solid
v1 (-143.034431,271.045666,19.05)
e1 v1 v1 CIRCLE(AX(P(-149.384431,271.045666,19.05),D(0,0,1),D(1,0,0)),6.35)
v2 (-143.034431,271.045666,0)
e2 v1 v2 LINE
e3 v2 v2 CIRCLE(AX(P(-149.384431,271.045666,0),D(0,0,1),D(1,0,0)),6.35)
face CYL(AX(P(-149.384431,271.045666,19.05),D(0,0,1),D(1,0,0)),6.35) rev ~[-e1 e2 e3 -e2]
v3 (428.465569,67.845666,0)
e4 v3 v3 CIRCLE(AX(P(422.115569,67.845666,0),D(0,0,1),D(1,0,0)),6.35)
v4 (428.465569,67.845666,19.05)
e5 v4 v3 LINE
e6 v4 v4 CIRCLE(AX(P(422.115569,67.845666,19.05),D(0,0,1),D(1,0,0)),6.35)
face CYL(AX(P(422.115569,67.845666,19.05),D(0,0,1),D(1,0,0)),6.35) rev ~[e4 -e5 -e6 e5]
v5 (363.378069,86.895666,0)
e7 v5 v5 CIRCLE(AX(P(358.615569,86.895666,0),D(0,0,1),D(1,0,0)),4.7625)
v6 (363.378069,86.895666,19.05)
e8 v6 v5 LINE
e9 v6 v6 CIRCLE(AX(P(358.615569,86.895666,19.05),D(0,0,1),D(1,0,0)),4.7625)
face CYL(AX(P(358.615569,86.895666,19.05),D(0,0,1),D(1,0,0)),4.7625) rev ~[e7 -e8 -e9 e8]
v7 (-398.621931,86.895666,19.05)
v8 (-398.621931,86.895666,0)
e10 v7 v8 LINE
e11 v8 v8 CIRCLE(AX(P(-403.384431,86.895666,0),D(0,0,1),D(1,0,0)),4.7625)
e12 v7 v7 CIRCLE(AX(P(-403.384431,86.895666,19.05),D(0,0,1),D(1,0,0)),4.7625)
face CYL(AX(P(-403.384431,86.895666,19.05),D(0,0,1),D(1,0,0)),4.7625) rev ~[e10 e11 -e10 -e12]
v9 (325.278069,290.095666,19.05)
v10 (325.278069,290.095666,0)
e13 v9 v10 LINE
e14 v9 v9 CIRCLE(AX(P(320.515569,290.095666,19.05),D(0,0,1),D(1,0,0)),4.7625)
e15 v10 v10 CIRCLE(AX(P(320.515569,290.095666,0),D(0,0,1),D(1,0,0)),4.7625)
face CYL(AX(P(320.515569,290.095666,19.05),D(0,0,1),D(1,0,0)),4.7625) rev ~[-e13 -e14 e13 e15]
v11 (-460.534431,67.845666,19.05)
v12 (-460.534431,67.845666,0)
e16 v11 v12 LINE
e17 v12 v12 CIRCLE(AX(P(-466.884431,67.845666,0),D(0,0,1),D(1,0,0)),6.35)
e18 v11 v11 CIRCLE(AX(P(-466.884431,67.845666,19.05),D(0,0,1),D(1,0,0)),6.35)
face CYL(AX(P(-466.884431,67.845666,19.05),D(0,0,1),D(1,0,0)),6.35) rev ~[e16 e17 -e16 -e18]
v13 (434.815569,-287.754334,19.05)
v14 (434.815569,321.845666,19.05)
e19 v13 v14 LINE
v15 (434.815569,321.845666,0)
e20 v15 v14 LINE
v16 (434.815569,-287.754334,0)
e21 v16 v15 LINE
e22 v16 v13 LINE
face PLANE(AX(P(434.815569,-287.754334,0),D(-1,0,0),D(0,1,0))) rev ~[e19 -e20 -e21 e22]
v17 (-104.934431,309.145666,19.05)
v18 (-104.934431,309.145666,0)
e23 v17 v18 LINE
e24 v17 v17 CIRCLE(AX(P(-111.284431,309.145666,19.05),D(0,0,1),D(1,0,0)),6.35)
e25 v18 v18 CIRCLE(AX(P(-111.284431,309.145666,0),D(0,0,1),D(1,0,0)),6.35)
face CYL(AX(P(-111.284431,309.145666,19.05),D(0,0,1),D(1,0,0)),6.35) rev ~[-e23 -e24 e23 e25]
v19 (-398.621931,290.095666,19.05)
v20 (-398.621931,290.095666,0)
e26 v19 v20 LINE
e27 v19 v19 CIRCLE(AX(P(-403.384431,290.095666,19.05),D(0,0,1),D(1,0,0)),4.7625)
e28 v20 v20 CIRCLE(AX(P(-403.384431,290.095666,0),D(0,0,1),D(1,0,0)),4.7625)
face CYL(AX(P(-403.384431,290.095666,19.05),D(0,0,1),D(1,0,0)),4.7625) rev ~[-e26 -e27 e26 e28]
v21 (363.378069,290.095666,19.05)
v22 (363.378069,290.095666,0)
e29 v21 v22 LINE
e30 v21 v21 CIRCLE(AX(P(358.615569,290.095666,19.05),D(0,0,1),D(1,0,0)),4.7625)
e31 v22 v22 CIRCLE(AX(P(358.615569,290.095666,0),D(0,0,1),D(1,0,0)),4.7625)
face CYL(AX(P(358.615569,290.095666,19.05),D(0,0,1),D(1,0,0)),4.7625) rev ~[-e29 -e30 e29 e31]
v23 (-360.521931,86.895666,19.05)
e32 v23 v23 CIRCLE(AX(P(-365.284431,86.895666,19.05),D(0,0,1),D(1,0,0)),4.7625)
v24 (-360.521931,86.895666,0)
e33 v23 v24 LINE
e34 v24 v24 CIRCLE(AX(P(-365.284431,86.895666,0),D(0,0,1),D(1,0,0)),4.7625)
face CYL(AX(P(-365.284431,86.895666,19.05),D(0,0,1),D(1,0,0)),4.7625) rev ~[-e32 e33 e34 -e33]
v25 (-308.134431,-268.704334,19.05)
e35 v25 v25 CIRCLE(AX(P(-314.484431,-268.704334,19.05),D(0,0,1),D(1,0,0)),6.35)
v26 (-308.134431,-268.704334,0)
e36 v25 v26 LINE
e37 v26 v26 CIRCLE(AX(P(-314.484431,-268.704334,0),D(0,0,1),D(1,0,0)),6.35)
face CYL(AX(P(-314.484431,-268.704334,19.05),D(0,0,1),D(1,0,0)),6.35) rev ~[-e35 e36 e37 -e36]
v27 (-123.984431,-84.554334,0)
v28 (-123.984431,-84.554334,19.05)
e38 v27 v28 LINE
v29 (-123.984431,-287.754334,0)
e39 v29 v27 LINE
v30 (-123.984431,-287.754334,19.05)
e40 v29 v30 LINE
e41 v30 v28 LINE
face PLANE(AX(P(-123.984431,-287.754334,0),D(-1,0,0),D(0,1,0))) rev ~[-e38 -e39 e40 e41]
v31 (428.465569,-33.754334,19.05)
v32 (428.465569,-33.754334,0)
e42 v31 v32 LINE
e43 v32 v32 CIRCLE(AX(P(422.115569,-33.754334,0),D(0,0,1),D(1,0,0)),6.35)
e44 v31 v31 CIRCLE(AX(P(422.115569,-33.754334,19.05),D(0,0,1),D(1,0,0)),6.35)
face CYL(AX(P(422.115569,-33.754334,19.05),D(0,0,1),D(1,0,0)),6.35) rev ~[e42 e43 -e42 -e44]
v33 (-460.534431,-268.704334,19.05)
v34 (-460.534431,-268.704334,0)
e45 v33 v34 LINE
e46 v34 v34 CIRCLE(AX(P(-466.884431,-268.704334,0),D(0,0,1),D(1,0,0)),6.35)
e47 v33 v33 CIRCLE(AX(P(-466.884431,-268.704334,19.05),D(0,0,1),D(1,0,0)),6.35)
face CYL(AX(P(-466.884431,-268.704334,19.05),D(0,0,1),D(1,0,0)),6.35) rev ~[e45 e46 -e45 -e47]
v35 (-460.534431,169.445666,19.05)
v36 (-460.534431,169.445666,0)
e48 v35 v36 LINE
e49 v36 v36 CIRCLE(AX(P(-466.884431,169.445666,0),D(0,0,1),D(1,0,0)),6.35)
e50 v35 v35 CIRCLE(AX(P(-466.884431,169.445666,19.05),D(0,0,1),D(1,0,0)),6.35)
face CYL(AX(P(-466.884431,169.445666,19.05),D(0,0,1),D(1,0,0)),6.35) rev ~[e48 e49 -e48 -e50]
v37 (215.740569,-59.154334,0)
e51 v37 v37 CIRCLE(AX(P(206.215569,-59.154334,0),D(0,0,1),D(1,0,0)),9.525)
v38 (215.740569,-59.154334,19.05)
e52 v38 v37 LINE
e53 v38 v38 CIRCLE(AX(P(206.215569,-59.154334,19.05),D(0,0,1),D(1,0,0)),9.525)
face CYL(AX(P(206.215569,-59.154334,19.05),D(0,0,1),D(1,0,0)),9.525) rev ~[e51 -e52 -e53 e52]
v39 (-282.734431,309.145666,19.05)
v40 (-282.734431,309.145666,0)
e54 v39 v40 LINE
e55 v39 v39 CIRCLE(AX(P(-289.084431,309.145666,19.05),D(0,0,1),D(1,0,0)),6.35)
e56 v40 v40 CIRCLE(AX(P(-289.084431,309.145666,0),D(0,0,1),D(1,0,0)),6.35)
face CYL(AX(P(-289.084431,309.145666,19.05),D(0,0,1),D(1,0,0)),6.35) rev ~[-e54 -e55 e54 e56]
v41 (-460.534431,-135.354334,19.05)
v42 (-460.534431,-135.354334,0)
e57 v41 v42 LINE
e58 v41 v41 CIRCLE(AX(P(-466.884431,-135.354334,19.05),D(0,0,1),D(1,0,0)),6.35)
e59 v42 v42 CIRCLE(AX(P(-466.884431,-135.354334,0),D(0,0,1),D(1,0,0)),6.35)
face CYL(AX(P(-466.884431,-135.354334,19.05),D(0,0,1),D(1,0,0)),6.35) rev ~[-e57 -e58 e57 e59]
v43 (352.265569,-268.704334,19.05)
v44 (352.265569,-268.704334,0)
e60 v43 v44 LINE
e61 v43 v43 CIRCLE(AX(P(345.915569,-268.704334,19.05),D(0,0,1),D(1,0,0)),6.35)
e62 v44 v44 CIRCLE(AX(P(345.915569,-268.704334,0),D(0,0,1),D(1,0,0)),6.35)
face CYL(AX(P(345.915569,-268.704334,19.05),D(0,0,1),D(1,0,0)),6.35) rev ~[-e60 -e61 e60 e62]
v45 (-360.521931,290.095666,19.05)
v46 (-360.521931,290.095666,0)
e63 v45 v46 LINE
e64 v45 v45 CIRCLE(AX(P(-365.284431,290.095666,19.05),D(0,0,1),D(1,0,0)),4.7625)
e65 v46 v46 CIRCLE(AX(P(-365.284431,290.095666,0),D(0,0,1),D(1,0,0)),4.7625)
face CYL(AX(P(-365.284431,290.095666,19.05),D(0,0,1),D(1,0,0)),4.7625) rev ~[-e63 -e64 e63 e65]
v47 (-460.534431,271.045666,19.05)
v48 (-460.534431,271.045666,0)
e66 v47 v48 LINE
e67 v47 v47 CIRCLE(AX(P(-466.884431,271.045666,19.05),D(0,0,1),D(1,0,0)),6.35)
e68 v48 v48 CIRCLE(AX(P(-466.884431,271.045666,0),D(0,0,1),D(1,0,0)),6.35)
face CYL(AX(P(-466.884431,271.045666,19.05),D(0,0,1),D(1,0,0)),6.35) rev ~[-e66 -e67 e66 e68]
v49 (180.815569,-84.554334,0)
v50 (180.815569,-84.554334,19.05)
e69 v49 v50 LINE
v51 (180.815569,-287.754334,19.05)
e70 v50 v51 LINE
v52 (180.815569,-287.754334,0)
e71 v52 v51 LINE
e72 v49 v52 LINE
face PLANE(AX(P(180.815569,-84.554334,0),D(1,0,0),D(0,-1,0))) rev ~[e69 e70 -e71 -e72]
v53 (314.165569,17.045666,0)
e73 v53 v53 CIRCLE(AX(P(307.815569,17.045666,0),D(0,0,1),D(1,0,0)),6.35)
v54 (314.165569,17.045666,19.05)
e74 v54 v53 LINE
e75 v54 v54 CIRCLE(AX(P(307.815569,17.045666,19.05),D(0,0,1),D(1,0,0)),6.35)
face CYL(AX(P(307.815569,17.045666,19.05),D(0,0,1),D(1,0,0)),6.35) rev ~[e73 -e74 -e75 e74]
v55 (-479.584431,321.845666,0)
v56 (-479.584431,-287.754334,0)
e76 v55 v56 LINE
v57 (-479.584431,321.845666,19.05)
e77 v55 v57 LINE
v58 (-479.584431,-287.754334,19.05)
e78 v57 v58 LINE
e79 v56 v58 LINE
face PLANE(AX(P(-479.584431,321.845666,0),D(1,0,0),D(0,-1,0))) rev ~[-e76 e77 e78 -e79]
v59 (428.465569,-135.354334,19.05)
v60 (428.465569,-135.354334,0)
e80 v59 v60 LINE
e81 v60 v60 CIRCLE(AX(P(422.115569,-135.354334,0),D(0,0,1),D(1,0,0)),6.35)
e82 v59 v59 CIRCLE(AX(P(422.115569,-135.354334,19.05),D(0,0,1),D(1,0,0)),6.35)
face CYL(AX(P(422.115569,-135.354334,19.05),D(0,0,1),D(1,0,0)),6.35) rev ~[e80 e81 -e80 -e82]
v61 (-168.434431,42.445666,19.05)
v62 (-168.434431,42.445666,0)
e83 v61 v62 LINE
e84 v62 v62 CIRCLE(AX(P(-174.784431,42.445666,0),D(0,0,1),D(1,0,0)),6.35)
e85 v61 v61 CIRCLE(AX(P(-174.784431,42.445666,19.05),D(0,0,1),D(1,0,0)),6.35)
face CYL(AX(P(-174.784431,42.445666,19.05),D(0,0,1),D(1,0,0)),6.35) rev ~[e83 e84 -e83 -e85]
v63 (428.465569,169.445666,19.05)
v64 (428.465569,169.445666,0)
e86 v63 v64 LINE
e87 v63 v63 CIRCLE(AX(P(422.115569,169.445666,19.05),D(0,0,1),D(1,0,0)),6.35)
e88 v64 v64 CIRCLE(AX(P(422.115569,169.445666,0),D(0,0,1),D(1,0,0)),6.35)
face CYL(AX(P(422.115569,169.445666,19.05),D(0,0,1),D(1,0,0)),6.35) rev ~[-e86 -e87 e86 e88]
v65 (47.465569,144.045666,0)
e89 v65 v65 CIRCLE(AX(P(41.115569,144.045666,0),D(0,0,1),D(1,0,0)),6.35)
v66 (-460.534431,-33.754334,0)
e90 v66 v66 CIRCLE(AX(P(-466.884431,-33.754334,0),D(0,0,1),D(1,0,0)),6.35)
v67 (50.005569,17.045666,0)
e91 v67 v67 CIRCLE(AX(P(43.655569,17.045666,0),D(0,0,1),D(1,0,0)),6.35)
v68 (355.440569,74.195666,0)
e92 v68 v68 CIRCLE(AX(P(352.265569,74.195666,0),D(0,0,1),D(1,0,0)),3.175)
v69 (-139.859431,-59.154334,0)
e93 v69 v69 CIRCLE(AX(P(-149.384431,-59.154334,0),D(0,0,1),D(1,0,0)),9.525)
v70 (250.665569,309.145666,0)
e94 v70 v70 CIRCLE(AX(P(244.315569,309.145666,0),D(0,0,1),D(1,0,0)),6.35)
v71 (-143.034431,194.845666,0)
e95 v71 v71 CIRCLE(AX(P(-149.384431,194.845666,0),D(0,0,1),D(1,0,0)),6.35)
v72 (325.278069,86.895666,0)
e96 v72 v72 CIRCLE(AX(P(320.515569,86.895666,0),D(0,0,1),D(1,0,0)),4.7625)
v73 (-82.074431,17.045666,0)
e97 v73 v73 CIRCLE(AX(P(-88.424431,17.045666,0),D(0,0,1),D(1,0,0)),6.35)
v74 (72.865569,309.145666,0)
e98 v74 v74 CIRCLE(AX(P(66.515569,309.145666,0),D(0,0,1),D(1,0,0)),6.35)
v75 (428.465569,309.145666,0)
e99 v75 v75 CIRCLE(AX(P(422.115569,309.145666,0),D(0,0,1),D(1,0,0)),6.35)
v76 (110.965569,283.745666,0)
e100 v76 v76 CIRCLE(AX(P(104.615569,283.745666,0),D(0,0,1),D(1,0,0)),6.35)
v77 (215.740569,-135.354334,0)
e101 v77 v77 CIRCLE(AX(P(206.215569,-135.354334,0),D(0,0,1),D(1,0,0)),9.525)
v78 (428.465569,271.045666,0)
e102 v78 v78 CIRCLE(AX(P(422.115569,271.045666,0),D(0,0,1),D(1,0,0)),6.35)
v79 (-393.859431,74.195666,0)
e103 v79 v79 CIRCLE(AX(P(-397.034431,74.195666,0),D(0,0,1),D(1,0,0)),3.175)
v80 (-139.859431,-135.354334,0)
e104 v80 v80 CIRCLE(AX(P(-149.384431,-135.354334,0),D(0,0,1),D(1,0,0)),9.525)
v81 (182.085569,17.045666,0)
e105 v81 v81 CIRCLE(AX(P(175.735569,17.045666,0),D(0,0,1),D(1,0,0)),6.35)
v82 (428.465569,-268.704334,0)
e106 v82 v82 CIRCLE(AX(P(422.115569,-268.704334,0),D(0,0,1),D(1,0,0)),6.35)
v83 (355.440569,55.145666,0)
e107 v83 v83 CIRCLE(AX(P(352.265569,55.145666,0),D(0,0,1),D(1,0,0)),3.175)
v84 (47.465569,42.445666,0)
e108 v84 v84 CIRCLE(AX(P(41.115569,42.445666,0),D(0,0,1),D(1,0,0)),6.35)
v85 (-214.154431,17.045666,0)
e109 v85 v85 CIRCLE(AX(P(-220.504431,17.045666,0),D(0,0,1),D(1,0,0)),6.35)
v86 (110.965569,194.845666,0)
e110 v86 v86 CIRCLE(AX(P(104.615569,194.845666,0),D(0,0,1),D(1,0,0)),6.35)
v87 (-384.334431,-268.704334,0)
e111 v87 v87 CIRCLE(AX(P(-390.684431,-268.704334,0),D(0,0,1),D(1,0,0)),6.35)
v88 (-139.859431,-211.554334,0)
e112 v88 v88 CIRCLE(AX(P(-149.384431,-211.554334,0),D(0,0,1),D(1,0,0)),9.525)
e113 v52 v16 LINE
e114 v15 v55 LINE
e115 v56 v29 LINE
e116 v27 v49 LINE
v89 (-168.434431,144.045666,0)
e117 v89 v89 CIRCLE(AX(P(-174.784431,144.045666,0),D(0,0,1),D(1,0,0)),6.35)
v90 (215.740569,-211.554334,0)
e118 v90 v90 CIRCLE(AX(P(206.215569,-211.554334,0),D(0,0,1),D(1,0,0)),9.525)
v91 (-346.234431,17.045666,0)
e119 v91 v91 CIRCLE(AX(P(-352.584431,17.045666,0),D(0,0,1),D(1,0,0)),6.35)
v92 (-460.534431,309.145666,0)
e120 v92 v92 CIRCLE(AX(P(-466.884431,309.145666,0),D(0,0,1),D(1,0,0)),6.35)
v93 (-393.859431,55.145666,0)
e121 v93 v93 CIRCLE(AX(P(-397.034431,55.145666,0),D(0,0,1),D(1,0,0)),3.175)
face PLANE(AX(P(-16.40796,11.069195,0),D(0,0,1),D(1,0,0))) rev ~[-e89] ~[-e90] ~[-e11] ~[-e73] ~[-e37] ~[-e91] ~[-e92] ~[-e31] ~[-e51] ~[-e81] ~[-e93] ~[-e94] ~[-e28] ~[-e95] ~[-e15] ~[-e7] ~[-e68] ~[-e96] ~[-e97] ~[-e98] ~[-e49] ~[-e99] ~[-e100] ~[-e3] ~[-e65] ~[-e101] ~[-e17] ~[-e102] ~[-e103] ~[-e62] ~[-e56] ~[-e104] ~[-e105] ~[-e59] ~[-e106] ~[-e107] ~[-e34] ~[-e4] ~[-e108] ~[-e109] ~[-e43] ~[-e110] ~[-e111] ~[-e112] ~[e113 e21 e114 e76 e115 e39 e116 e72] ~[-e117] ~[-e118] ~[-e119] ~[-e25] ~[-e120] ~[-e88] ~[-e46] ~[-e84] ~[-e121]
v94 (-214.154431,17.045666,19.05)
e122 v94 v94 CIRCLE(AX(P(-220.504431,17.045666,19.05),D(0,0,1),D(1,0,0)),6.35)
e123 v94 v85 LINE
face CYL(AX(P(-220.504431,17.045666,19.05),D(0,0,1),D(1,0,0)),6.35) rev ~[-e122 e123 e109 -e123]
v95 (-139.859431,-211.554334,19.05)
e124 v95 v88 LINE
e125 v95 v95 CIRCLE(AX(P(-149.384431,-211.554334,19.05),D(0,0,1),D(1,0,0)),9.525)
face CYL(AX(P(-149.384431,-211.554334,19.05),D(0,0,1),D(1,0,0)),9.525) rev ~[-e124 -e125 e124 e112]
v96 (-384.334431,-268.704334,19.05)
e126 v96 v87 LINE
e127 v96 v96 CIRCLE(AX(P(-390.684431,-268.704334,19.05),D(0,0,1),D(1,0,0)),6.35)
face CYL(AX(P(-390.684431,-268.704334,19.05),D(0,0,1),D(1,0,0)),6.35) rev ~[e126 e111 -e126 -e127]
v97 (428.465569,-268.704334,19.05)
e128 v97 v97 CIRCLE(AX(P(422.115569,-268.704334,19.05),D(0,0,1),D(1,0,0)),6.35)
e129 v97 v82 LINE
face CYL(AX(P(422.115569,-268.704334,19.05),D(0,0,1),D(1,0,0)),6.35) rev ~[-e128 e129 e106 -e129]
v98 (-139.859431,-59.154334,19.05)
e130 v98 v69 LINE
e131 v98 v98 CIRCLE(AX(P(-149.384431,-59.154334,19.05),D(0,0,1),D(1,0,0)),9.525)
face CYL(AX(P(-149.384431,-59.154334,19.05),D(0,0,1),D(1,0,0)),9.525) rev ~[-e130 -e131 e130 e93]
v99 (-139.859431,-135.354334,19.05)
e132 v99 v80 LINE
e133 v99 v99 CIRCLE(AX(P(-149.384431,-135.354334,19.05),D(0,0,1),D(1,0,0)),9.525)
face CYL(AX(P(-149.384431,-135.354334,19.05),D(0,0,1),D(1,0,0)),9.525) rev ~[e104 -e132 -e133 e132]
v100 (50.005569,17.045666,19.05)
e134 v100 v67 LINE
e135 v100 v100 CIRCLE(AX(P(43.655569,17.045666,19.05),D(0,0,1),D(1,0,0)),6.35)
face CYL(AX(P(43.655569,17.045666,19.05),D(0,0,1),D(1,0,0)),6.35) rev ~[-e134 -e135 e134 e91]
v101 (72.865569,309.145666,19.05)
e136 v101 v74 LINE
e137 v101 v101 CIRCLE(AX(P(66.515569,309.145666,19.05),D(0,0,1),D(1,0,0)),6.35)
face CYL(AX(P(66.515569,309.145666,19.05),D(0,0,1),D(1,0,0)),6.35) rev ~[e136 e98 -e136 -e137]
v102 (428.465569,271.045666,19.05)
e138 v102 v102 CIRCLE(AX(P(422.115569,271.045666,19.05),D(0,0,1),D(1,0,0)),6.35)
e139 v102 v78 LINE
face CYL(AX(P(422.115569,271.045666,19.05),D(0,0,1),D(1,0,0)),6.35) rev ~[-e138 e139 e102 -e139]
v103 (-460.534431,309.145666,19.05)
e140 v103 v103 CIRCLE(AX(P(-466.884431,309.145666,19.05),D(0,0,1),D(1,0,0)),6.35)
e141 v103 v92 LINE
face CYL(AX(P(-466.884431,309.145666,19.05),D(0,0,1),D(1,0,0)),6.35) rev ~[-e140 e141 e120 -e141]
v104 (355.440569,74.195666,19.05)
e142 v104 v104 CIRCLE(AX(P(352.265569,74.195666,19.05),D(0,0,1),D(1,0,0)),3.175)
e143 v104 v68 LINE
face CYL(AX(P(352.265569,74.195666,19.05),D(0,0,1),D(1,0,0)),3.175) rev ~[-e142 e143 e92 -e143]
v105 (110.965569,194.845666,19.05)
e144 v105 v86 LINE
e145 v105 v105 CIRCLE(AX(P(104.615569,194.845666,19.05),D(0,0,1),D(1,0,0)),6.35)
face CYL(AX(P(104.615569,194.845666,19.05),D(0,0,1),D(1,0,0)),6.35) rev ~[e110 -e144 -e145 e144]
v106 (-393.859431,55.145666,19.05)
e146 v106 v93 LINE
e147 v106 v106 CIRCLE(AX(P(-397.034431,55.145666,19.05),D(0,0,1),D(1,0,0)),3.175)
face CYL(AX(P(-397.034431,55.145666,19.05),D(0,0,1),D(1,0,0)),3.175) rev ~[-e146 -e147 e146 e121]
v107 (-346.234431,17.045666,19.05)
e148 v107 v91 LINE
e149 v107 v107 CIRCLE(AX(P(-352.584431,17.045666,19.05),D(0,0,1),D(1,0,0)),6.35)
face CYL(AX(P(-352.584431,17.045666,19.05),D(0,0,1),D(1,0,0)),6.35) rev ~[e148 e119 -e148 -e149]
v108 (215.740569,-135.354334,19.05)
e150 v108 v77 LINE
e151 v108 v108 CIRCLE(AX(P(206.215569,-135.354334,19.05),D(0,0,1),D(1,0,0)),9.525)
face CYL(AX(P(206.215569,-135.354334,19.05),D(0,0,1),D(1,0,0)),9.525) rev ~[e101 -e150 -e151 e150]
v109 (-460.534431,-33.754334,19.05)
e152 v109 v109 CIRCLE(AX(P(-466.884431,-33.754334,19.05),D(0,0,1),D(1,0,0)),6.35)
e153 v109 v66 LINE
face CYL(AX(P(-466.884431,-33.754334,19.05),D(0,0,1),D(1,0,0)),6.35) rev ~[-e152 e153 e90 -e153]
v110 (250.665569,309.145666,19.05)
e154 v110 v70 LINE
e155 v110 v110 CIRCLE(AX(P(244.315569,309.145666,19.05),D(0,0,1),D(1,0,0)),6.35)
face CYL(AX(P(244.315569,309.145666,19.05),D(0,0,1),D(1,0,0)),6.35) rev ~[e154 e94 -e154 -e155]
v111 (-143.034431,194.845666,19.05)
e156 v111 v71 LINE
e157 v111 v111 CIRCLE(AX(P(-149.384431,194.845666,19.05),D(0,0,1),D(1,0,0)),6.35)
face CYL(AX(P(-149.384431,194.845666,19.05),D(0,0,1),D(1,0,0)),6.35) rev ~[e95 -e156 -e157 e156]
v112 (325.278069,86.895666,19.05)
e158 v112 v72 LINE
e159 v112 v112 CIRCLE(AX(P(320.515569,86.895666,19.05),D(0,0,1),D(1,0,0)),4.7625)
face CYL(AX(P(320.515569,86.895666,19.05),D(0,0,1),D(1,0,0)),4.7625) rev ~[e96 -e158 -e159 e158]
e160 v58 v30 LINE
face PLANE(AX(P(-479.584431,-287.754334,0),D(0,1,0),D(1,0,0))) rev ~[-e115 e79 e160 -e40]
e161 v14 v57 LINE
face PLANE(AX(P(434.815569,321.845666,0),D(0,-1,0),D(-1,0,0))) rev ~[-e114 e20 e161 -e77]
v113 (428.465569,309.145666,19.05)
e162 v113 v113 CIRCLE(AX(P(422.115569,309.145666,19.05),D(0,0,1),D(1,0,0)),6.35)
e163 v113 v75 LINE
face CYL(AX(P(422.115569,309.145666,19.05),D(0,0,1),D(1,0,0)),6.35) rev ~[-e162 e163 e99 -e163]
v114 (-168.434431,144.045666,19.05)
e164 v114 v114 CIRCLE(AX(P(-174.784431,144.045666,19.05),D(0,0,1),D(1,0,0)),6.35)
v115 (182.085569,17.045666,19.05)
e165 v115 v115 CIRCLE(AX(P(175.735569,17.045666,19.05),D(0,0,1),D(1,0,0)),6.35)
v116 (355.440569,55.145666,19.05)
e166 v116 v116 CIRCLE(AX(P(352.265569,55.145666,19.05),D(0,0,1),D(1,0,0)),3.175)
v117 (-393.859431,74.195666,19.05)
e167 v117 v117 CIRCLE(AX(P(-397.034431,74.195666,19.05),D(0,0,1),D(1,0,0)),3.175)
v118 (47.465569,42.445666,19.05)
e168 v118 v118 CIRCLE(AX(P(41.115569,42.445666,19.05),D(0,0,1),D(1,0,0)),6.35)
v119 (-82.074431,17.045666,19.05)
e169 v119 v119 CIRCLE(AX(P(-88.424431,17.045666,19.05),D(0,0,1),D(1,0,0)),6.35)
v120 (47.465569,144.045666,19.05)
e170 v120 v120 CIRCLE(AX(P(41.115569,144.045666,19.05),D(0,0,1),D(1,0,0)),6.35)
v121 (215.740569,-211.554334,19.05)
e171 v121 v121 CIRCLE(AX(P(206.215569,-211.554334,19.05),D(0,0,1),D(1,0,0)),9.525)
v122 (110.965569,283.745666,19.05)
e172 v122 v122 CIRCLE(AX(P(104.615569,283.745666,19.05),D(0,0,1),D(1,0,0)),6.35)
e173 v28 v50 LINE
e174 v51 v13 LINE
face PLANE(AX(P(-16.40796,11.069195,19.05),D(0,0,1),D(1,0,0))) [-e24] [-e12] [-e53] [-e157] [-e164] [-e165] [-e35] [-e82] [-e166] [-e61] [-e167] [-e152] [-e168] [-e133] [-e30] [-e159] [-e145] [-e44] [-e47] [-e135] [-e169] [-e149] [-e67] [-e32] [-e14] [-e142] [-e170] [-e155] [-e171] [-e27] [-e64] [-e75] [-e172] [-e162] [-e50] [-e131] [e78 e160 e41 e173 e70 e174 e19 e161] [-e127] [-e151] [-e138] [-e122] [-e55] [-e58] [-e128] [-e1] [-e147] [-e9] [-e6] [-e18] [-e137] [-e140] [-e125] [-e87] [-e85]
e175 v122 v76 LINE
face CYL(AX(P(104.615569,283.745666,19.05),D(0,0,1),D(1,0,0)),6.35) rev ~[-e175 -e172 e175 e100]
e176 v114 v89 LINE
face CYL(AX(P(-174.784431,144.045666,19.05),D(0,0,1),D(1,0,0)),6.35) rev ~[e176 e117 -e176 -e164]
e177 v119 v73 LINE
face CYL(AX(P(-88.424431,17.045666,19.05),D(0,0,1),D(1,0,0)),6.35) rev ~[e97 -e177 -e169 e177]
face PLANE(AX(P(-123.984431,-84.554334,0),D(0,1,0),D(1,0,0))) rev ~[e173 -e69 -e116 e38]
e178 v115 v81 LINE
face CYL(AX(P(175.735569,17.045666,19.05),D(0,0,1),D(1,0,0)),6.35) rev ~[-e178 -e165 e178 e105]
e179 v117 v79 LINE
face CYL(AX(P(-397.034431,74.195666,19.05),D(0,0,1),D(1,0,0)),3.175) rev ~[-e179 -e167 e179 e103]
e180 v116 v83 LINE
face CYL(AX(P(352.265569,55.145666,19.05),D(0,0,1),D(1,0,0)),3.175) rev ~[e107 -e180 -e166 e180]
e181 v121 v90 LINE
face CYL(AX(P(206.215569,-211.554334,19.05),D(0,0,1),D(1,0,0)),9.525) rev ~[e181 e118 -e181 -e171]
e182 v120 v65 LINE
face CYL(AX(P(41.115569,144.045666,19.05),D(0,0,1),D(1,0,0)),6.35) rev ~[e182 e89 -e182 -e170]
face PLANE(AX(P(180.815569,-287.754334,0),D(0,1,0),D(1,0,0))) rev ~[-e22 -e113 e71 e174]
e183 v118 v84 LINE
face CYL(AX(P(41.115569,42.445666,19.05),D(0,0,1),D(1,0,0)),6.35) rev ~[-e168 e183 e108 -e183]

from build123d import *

# Parameters (mm, degrees)
F1_DEPTH  = 19.05
F2_R      = 9.525
F3_DEPTH  = 19.05
F4_R      = 6.35
F5_DEPTH  = 19.05
F6_R      = 6.35
F7_DEPTH  = 19.05
F8_DEPTH  = 19.05
F9_R      = 4.7625
F10_DEPTH = 19.05
F11_R     = 3.175
F12_DEPTH = 19.05


with BuildPart() as f1:
    # F0 (on Top) → F1 (new body)
    with BuildSketch(Plane.XY):
        Polygon((434.815569, 321.845666), (-479.584431, 321.845666), (-479.584431, -287.754334), (-123.984431, -287.754334), (-123.984431, -84.554334), (180.815569, -84.554334), (180.815569, -287.754334), (434.815569, -287.754334), align=None)
    extrude(amount=F1_DEPTH)

    # F2 (on face) → F3 (cut)
    with BuildSketch(Plane.XY.offset(19.05)):
        with Locations((-149.384431, -59.154334)):
            Circle(F2_R)
        with Locations((-149.384431, -135.354334)):
            Circle(F2_R)
        with Locations((-149.384431, -211.554334)):
            Circle(F2_R)
        with Locations((206.215569, -211.554334)):
            Circle(F2_R)
        with Locations((206.215569, -135.354334)):
            Circle(F2_R)
        with Locations((206.215569, -59.154334)):
            Circle(F2_R)
    extrude(amount=-F3_DEPTH, mode=Mode.SUBTRACT)

    # F4 (on face) → F5 (cut)
    with BuildSketch(Plane.XY.offset(19.05)):
        with Locations((345.915569, -268.704334)):
            Circle(F4_R)
        with Locations((422.115569, -268.704334)):
            Circle(F4_R)
        with Locations((-314.484431, -268.704334)):
            Circle(F4_R)
        with Locations((-390.684431, -268.704334)):
            Circle(F4_R)
        with Locations((-466.884431, -268.704334)):
            Circle(F4_R)
    extrude(amount=-F5_DEPTH, mode=Mode.SUBTRACT)

    # F6 (on face) → F7 (cut)
    with BuildSketch(Plane.XY.offset(19.05)):
        with Locations((-466.884431, -135.354334)):
            Circle(F6_R)
        with Locations((-466.884431, -33.754334)):
            Circle(F6_R)
        with Locations((-466.884431, 169.445666)):
            Circle(F6_R)
        with Locations((-466.884431, 67.845666)):
            Circle(F6_R)
        with Locations((422.115569, -33.754334)):
            Circle(F6_R)
        with Locations((422.115569, 67.845666)):
            Circle(F6_R)
        with Locations((422.115569, 169.445666)):
            Circle(F6_R)
        with Locations((422.115569, 271.045666)):
            Circle(F6_R)
        with Locations((422.115569, -135.354334)):
            Circle(F6_R)
        with Locations((-466.884431, 271.045666)):
            Circle(F6_R)
        with Locations((-466.884431, 309.145666)):
            Circle(F6_R)
        with Locations((422.115569, 309.145666)):
            Circle(F6_R)
        with Locations((-289.084431, 309.145666)):
            Circle(F6_R)
        with Locations((-111.284431, 309.145666)):
            Circle(F6_R)
        with Locations((66.515569, 309.145666)):
            Circle(F6_R)
        with Locations((244.315569, 309.145666)):
            Circle(F6_R)
        with Locations((-149.384431, 271.045666)):
            Circle(F6_R)
        with Locations((104.615569, 283.745666)):
            Circle(F6_R)
        with Locations((-149.384431, 194.845666)):
            Circle(F6_R)
        with Locations((104.615569, 194.845666)):
            Circle(F6_R)
        with Locations((-352.584431, 17.045666)):
            Circle(F6_R)
        with Locations((-220.504431, 17.045666)):
            Circle(F6_R)
        with Locations((-88.424431, 17.045666)):
            Circle(F6_R)
        with Locations((43.655569, 17.045666)):
            Circle(F6_R)
        with Locations((175.735569, 17.045666)):
            Circle(F6_R)
        with Locations((307.815569, 17.045666)):
            Circle(F6_R)
        with Locations((-174.784431, 144.045666)):
            Circle(F6_R)
        with Locations((41.115569, 144.045666)):
            Circle(F6_R)
        with Locations((-174.784431, 42.445666)):
            Circle(F6_R)
        with Locations((41.115569, 42.445666)):
            Circle(F6_R)
    extrude(amount=-F7_DEPTH, mode=Mode.SUBTRACT)

    # F4 (on face) → F8 (cut)
    with BuildSketch(Plane.XY.offset(19.05)):
        with Locations((-466.884431, -268.704334)):
            Circle(F4_R)
        with Locations((-390.684431, -268.704334)):
            Circle(F4_R)
        with Locations((-314.484431, -268.704334)):
            Circle(F4_R)
        with Locations((345.915569, -268.704334)):
            Circle(F4_R)
        with Locations((422.115569, -268.704334)):
            Circle(F4_R)
    extrude(amount=-F8_DEPTH, mode=Mode.SUBTRACT)

    # F9 (on face) → F10 (cut)
    with BuildSketch(Plane.XY.offset(19.05)):
        with Locations((-403.384431, 290.095666)):
            Circle(F9_R)
        with Locations((-365.284431, 290.095666)):
            Circle(F9_R)
        with Locations((320.515569, 290.095666)):
            Circle(F9_R)
        with Locations((358.615569, 290.095666)):
            Circle(F9_R)
        with Locations((-403.384431, 86.895666)):
            Circle(F9_R)
        with Locations((-365.284431, 86.895666)):
            Circle(F9_R)
        with Locations((320.515569, 86.895666)):
            Circle(F9_R)
        with Locations((358.615569, 86.895666)):
            Circle(F9_R)
    extrude(amount=-F10_DEPTH, mode=Mode.SUBTRACT)

    # F11 (on face) → F12 (cut)
    with BuildSketch(Plane.XY.offset(19.05)):
        with Locations((-397.034431, 74.195666)):
            Circle(F11_R)
        with Locations((-397.034431, 55.145666)):
            Circle(F11_R)
        with Locations((352.265569, 74.195666)):
            Circle(F11_R)
        with Locations((352.265569, 55.145666)):
            Circle(F11_R)
    extrude(amount=-F12_DEPTH, mode=Mode.SUBTRACT)


solid = f1.part
